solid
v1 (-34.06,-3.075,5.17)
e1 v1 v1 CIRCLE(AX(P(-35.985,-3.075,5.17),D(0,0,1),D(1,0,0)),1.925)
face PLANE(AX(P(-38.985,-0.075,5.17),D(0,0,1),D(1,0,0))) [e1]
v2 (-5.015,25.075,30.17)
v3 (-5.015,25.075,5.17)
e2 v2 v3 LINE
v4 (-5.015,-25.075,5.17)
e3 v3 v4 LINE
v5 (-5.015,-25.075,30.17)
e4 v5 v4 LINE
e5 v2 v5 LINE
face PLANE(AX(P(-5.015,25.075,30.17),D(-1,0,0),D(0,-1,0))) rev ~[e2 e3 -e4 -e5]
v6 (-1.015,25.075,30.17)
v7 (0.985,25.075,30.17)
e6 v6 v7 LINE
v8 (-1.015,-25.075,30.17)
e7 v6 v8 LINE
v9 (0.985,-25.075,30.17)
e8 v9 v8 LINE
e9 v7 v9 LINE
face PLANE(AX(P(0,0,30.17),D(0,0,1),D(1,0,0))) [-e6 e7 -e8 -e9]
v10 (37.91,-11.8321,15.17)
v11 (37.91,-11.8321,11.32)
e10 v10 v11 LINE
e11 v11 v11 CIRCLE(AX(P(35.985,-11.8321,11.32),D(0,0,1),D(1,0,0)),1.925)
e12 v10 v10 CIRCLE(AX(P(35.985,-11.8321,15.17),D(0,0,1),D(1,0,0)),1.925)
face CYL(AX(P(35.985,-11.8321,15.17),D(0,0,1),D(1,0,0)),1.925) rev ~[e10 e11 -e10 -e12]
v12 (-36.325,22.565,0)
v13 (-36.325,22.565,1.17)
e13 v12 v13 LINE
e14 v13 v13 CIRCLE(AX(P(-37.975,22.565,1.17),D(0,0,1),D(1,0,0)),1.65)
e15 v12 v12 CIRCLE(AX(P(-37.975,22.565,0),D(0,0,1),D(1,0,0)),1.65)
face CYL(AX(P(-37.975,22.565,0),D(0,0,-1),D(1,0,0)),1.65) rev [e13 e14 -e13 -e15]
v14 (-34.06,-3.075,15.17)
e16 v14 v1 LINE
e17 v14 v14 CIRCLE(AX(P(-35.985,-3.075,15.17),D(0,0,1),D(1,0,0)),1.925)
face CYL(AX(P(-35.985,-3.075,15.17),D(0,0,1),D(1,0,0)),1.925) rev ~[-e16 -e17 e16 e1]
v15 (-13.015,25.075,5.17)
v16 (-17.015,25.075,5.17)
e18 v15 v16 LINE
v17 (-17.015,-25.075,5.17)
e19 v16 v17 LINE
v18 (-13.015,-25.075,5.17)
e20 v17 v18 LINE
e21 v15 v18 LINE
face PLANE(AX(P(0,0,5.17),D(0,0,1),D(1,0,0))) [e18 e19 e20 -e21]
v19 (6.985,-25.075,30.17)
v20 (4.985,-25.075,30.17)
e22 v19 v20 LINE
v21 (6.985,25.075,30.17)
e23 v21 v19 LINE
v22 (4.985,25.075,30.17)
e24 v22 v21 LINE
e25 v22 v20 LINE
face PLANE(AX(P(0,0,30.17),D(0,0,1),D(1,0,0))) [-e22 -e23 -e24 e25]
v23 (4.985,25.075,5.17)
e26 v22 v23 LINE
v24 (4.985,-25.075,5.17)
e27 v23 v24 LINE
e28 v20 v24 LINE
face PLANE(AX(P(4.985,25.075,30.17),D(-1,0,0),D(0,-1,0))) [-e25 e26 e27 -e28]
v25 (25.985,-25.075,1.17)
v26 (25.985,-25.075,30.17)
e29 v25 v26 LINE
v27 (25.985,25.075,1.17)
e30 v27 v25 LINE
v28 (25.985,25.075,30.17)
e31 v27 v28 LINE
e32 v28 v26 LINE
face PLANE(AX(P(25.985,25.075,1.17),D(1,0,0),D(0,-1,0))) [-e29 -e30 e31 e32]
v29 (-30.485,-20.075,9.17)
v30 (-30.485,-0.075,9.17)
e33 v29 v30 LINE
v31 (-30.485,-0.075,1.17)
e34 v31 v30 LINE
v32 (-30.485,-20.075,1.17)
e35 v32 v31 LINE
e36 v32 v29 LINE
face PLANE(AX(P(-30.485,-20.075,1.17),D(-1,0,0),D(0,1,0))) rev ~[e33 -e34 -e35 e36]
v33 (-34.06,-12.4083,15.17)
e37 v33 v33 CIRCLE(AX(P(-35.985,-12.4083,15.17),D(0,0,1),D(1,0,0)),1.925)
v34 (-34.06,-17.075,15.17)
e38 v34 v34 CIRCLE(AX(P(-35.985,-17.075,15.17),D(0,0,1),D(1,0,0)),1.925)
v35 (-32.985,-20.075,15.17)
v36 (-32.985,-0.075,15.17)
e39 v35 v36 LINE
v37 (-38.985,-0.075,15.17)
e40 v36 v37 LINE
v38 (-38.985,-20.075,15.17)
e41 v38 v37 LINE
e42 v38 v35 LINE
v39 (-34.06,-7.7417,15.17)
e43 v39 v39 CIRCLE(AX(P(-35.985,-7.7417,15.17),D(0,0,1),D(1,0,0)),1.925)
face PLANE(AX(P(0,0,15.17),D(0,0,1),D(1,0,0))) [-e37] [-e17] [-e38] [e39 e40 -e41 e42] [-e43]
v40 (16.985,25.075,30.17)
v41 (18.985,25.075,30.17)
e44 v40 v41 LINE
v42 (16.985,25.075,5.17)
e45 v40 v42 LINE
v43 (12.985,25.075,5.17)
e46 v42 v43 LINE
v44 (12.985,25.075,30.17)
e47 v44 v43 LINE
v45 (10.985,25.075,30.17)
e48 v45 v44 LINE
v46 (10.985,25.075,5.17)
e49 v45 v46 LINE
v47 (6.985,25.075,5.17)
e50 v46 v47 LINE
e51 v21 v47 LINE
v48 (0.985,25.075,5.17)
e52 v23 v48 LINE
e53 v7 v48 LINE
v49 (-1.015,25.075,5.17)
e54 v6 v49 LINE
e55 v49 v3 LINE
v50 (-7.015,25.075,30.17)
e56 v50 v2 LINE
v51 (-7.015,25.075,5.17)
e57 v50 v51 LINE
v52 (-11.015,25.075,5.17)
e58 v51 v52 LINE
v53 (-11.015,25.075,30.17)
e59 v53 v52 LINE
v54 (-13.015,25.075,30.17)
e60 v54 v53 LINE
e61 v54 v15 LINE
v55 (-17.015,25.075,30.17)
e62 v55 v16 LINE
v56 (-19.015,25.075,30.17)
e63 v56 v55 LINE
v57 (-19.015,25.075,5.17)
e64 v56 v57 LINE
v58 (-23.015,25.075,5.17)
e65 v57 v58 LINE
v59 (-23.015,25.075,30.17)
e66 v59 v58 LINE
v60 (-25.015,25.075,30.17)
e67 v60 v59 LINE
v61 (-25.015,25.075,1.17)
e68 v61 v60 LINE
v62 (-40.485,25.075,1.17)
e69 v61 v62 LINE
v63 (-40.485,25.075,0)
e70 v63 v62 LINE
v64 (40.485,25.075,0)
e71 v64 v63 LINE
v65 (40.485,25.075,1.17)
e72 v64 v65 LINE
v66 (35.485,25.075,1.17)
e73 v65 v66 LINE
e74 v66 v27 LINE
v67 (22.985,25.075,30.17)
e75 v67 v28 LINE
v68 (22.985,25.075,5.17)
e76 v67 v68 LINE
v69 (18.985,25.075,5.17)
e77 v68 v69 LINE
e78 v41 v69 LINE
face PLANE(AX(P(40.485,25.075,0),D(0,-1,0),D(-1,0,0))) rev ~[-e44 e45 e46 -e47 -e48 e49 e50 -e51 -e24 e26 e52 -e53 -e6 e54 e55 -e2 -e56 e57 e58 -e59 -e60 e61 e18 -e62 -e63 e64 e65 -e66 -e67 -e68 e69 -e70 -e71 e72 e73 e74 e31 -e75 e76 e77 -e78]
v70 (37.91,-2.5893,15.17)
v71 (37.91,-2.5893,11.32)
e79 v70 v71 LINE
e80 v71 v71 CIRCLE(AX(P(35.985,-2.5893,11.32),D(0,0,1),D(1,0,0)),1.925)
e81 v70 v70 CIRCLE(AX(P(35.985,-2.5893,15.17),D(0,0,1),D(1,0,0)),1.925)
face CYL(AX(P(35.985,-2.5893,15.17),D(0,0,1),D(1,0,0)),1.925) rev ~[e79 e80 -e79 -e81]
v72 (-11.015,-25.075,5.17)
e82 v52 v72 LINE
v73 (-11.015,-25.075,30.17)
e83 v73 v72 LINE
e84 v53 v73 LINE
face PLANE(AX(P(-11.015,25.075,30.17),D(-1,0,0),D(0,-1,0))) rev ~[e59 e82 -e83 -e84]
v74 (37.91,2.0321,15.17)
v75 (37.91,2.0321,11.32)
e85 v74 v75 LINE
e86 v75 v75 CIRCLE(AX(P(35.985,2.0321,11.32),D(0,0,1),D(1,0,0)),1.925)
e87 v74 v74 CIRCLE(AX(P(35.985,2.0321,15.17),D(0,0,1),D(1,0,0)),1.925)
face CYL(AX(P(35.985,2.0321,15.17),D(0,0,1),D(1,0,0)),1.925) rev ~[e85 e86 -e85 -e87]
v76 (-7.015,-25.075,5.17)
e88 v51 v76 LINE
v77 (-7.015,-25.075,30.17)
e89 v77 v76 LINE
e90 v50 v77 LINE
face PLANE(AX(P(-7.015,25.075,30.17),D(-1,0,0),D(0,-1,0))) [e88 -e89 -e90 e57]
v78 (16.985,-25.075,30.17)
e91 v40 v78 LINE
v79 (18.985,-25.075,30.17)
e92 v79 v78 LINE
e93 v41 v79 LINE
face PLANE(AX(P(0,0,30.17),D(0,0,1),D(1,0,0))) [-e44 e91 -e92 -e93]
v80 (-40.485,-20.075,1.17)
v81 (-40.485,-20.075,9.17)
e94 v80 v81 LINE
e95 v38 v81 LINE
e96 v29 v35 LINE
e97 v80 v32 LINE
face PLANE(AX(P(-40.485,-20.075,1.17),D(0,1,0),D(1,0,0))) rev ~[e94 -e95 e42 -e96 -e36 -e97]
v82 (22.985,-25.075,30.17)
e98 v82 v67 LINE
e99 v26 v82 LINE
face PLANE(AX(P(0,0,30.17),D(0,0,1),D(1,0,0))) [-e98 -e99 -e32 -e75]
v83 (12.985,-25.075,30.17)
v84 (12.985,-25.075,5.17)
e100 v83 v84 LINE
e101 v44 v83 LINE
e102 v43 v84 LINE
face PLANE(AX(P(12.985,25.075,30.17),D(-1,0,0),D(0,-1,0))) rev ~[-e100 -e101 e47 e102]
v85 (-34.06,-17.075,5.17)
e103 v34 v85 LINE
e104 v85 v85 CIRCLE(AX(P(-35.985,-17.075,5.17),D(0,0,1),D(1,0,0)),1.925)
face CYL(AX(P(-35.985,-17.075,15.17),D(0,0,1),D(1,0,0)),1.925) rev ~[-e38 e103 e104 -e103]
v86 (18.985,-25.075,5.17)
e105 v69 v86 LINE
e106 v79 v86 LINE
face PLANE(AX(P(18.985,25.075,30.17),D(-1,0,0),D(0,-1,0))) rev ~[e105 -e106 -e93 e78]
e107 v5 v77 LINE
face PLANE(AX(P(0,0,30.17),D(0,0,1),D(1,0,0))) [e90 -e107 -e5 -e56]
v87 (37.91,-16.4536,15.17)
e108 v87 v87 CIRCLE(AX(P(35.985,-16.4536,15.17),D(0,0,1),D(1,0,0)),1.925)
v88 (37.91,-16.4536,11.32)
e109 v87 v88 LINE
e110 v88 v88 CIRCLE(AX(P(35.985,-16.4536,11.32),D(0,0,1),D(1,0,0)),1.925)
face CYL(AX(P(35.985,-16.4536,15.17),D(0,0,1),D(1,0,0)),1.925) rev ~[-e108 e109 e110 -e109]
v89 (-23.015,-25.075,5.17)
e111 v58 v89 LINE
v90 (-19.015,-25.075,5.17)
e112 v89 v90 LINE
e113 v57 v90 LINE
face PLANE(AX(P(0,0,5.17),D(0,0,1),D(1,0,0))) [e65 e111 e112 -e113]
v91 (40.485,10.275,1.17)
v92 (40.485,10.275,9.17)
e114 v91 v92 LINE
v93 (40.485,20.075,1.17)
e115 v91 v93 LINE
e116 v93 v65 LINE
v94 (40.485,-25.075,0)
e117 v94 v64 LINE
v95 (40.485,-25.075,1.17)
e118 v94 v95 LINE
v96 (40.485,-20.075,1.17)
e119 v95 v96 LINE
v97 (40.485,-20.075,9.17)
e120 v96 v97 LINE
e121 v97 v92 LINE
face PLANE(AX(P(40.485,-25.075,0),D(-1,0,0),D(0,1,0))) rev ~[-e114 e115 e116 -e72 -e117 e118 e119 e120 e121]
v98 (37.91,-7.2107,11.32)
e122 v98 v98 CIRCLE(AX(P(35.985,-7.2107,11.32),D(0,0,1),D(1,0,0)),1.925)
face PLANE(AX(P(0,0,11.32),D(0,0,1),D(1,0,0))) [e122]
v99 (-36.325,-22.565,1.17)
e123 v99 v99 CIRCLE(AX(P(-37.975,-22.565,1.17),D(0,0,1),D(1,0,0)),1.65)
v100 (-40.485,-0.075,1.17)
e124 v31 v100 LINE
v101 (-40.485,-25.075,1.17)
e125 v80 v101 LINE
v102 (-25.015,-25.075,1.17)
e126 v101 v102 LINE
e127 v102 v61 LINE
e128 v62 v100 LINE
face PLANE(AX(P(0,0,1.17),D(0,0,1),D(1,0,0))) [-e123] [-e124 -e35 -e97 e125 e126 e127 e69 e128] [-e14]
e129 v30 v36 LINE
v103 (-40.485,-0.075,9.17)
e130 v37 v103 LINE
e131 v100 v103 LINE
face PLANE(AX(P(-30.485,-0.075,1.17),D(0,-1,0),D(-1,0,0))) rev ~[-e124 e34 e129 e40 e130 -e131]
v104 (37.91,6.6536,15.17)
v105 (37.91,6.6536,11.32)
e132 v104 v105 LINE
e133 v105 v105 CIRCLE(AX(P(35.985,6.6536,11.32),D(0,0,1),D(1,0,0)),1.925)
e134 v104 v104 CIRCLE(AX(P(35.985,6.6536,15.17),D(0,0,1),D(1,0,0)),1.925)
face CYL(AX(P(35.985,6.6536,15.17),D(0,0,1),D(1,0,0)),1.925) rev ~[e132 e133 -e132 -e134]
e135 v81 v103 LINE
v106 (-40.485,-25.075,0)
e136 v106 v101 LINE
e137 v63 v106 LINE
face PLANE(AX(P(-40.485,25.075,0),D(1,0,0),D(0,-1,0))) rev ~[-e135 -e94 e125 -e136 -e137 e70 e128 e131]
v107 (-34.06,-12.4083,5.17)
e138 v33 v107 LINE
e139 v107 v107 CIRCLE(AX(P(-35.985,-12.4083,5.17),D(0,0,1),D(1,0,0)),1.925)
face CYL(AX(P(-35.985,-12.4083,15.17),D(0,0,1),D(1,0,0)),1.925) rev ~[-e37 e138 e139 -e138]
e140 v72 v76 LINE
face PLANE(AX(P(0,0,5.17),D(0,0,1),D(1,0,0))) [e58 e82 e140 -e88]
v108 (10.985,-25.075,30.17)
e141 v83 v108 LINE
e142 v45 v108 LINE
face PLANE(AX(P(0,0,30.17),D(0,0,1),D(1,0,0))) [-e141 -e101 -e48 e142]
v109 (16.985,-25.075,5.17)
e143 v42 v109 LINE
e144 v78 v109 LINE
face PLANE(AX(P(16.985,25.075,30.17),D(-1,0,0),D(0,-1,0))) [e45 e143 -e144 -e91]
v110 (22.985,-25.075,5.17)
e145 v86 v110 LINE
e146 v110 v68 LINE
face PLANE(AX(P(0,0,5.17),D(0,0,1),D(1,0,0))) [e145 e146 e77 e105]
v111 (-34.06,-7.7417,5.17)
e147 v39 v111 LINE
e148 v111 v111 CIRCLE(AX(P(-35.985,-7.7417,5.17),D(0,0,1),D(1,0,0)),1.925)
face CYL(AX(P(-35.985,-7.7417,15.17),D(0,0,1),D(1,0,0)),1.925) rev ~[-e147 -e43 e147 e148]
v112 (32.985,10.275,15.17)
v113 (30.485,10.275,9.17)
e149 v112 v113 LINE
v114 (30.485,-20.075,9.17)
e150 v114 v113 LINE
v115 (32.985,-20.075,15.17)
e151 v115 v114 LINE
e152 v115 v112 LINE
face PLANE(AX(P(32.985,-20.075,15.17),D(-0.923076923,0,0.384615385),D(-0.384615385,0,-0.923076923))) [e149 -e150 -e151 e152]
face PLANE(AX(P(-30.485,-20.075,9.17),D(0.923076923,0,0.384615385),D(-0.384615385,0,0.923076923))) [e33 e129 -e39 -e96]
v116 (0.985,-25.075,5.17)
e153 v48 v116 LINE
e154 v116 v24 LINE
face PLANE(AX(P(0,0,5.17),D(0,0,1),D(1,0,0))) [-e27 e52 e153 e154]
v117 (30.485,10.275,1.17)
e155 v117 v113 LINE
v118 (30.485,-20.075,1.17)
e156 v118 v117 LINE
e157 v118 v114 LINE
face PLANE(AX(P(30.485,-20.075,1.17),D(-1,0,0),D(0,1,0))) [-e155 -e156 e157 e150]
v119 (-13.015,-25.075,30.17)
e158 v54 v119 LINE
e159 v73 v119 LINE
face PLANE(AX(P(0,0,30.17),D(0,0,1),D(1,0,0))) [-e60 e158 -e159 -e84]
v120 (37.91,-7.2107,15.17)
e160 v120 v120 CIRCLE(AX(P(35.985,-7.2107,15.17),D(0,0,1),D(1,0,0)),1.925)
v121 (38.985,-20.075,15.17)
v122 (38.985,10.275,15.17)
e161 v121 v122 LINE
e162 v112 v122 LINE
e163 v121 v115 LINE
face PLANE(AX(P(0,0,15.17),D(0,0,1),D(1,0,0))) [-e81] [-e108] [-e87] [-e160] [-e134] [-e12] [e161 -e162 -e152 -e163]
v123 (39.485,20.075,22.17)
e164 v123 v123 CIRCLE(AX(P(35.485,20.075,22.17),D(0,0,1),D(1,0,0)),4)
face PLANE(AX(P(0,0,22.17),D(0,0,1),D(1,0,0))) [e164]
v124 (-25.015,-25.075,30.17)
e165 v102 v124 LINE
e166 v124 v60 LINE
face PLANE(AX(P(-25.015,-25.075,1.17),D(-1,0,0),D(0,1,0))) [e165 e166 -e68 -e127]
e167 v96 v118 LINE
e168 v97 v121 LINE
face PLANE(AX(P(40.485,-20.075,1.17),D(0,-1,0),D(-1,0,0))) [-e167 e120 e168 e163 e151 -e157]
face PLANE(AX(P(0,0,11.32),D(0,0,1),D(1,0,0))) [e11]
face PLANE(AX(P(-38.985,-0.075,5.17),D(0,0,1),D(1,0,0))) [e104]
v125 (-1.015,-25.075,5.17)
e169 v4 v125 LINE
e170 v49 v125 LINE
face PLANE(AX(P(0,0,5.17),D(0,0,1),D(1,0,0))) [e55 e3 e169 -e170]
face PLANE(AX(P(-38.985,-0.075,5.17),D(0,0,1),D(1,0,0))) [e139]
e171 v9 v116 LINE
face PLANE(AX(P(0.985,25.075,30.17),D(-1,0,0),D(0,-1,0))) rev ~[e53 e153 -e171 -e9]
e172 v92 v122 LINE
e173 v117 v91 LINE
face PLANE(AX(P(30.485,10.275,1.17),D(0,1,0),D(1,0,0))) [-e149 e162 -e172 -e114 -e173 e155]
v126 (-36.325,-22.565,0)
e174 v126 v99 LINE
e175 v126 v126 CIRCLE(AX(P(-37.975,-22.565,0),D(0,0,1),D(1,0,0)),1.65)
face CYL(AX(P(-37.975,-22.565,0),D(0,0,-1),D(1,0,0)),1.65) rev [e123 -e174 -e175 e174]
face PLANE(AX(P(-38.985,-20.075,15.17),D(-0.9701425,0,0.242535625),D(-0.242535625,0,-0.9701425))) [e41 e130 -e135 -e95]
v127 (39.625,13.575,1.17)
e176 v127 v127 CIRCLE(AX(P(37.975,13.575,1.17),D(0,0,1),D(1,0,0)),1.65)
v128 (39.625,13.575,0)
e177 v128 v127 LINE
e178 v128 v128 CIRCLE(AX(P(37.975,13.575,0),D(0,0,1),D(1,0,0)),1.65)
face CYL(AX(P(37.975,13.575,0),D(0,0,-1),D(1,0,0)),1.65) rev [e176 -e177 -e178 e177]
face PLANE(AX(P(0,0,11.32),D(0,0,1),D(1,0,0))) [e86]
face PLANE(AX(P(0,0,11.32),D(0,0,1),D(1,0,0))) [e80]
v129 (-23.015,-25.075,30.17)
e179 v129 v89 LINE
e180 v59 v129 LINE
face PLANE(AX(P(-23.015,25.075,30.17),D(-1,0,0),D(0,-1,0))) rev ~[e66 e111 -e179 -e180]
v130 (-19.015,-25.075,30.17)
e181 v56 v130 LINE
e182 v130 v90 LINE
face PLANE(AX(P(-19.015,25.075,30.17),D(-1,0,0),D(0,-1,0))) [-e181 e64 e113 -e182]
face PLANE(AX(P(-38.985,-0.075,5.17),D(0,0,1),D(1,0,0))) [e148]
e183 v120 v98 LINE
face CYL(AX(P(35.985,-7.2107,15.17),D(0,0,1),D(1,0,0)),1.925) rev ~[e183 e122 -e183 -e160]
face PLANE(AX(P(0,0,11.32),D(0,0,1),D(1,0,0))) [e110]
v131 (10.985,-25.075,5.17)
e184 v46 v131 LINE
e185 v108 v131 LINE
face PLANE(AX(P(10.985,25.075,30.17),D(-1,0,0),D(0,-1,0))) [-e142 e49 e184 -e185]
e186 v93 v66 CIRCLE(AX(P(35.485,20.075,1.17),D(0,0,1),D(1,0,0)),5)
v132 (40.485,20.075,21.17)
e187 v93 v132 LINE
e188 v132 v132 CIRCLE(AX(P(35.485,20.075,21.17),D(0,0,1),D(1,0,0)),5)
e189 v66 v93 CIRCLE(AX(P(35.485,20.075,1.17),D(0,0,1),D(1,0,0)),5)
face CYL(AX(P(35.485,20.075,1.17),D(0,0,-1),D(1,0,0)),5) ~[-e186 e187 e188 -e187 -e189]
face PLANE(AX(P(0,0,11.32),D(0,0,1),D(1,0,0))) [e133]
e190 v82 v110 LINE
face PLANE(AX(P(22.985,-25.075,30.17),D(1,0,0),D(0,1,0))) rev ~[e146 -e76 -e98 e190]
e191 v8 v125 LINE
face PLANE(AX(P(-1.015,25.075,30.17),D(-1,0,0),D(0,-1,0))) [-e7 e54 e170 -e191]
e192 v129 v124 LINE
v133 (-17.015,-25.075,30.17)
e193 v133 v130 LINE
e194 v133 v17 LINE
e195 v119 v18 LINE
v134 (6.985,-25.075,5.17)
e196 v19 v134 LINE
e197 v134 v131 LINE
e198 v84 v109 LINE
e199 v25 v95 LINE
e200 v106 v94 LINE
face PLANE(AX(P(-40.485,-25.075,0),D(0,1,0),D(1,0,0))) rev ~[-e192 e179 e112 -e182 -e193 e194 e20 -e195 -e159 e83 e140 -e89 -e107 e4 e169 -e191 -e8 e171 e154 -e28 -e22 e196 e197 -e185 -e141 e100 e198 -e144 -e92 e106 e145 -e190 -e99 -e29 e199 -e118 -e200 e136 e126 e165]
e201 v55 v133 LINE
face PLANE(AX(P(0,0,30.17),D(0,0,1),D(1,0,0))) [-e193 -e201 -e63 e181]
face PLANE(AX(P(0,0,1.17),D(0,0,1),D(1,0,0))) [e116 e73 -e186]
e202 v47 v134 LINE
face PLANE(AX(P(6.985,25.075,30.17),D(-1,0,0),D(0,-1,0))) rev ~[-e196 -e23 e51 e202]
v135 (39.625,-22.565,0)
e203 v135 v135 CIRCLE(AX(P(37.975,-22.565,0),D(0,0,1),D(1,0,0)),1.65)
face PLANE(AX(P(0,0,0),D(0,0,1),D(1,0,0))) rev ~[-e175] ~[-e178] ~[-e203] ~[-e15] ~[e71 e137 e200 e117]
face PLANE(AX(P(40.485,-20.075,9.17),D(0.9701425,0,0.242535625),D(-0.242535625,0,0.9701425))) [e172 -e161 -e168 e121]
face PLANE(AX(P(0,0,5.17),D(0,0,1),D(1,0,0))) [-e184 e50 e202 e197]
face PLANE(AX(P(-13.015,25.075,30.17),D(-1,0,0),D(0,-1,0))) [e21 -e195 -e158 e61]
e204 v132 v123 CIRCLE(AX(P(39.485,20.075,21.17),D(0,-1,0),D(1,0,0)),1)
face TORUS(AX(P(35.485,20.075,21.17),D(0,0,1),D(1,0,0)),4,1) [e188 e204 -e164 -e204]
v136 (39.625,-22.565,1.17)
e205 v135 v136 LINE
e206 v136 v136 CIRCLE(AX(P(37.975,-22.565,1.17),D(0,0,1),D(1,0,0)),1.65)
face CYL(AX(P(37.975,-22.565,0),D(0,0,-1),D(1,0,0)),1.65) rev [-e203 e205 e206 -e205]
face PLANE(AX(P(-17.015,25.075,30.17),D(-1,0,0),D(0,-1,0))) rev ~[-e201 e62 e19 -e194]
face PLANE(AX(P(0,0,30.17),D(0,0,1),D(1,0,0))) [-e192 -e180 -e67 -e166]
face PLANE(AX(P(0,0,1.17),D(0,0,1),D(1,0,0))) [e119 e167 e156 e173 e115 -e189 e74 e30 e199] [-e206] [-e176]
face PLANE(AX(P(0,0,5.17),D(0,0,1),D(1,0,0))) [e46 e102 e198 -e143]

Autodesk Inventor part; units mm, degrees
ref_plane "YZ Plane" through (0, 0, 0) normal (1, 0, 0) x (0, 1, 0)
ref_plane "XZ Plane" through (0, 0, 0) normal (0, 1, 0) x (-1, 0, 0)
ref_plane "XY Plane" through (0, 0, 0) normal (0, 0, 1) x (1, 0, 0)
sketch "Sketch1" plane through (0, 0, 0) normal (0, 0, 1) x (1, 0, 0)
  line L0 (-40.485, -25.075) -> (40.485, -25.075)
  line L1 (40.485, -25.075) -> (40.485, 25.075)
  line L2 (40.485, 25.075) -> (-40.485, 25.075)
  line L3 (-40.485, 25.075) -> (-40.485, -25.075)
  line L4 (-40.485, -25.075) -> (40.485, 25.075) construction
  line L5 (40.485, -25.075) -> (-40.485, 25.075) construction
  circle A0 centre (-37.975, 22.565) radius 1.65
  line L6 (-39.625, 24.215) -> (-36.325, 24.215) construction
  line L7 (-36.325, 24.215) -> (-36.325, 20.915) construction
  line L8 (-36.325, 20.915) -> (-39.625, 20.915) construction
  line L9 (-39.625, 20.915) -> (-39.625, 24.215) construction
  line L10 (-39.625, 24.215) -> (-36.325, 20.915) construction
  line L11 (-36.325, 24.215) -> (-39.625, 20.915) construction
  line L12 (-40.485, 0) -> (40.485, 0) construction
  line L13 (0, 25.075) -> (0, -25.075) construction
  circle A1 centre (-37.975, -22.565) radius 1.65
  line L14 (0, -25.075) -> (0, 25.075) construction
  circle A2 centre (37.975, 22.565) radius 1.65 construction
  circle A3 centre (37.975, -22.565) radius 1.65
  line L15 (37.975, 25.075) -> (37.975, 13.575) construction
  circle A4 centre (37.975, 13.575) radius 1.65
  point P0 (0, 0)
  dimension "d0" = 80.97
  dimension "d1" = 50.15
  dimension "d2" = 3.3
  dimension "d3" = 0.86
  dimension "d4" = 0.86
  dimension "d10" = 11.5
extrude "Extrusion1" add sketch "Sketch1" along normal blind 1.17
sketch "Sketch2" plane through (0, 0, 1.17) normal (0, 0, 1) x (1, 0, 0)
  line L0 (40.485, -25.075) -> (40.485, 25.075) projected
  line L1 (40.485, -20.075) -> (30.485, -20.075)
  line L2 (30.485, -20.075) -> (30.485, 10.275)
  line L3 (30.485, 10.275) -> (40.485, 10.275)
  line L4 (40.485, 10.275) -> (40.485, -20.075)
  line L5 (-40.485, -25.075) -> (40.485, -25.075) projected
  point P0 (0, 0)
  dimension "d7" = 5
  dimension "d8" = 30.35
  dimension "d9" = 10
extrude "Extrusion2" add sketch "Sketch2" along normal blind 14
sketch "Sketch3" plane through (0, 0, 1.17) normal (0, 0, 1) x (1, 0, 0)
  line L0 (40.485, 10.275) -> (40.485, 25.075) construction
  line L1 (40.485, 25.075) -> (-40.485, 25.075) construction
  circle A0 centre (35.485, 20.075) radius 5
  point P0 (0, 0)
  dimension "d13" = 10
extrude "Extrusion3" add sketch "Sketch3" along normal blind 21
fillet "Fillet1" radius 1 1 edges at (30.485, 20.075, 22.17)
sketch "Sketch4" plane through (30.485, -20.075, 1.17) normal (0, -1, 0) x (1, 0, 0)
  line L0 (0, 14) -> (10, 14) construction
  line L1 (0, 0) -> (0, 14) projected
  line L2 (10, 0) -> (10, 14) projected
  line L3 (10, 14) -> (0, 14) projected
  line L4 (2.5, 14) -> (8.5, 14)
  line L5 (10, 8) -> (8.5, 14)
  line L6 (2.5, 14) -> (0, 8)
  line L7 (10, 8) -> (0, 8) construction
  point P0 (-30.485, -1.17)
  dimension "d17" = 6
  dimension "d18" = 6
  dimension "d19" = 1.5
extrude "Extrusion4" cut sketch "Sketch4" against normal up to surface (30.35 mm away)
sketch "Sketch5" plane through (0, 0, 15.17) normal (0, 0, 1) x (1, 0, 0)
  line L0 (38.985, 10.275) -> (32.985, 10.275) construction
  line L1 (35.985, 10.275) -> (35.985, -20.075) construction
  line L2 (32.985, -20.075) -> (38.985, -20.075) construction
  line L3 (35.985, -20.075) -> (35.985, 10.275) construction
  circle A0 centre (35.985, 6.6536) radius 1.925
  circle A1 centre (35.985, 2.0321) radius 1.925
  circle A2 centre (35.985, -2.5893) radius 1.925
  circle A3 centre (35.985, -7.2107) radius 1.925
  circle A4 centre (35.985, -11.8321) radius 1.925
  circle A5 centre (35.985, -16.4536) radius 1.925
  point P0 (0, 0)
  dimension "d22" = 3.85
  dimension "d23" = 4.6214
  dimension "d24" = 4.6214
  dimension "d25" = 4.6214
  dimension "d26" = 4.6214
  dimension "d27" = 4.6214
  dimension "d28" = 3.6214
  dimension "d29" = 3.6214
extrude "Extrusion5" cut sketch "Sketch5" against normal blind 3.85
sketch "Sketch6" plane through (0, 0, 1.17) normal (0, 0, 1) x (1, 0, 0)
  line L0 (-25.015, 25.075) -> (25.985, 25.075)
  line L1 (25.985, 25.075) -> (25.985, -25.075)
  line L2 (25.985, -25.075) -> (-25.015, -25.075)
  line L3 (-25.015, -25.075) -> (-25.015, 25.075)
  line L4 (40.485, -25.075) -> (40.485, -20.075) projected
  line L5 (35.485, 25.075) -> (-40.485, 25.075) projected
  line L6 (-40.485, -25.075) -> (40.485, -25.075) projected
  point P0 (0, 0)
  dimension "d32" = 14.5
  dimension "d33" = 51
extrude "Extrusion6" add sketch "Sketch6" along normal blind 29
sketch "Sketch7" plane through (0, 0, 30.17) normal (0, 0, 1) x (1, 0, 0)
  line L0 (25.985, 25.075) -> (-25.015, 25.075) projected
  line L1 (-25.015, -25.075) -> (25.985, -25.075) projected
  line L2 (22.985, 25.075) -> (18.985, 25.075)
  line L3 (18.985, 25.075) -> (18.985, -25.075)
  line L4 (18.985, -25.075) -> (22.985, -25.075)
  line L5 (22.985, -25.075) -> (22.985, 25.075)
  line L6 (25.985, -25.075) -> (25.985, 25.075) projected
  line L7 (16.985, 25.075) -> (16.985, -25.075)
  line L8 (12.985, 25.075) -> (12.985, -25.075)
  line L9 (10.985, 25.075) -> (10.985, -25.075)
  line L10 (6.985, 25.075) -> (6.985, -25.075)
  line L11 (4.985, 25.075) -> (4.985, -25.075)
  line L12 (0.985, 25.075) -> (0.985, -25.075)
  line L13 (-1.015, 25.075) -> (-1.015, -25.075)
  line L14 (-5.015, 25.075) -> (-5.015, -25.075)
  line L15 (-7.015, 25.075) -> (-7.015, -25.075)
  line L16 (-11.015, 25.075) -> (-11.015, -25.075)
  line L17 (-13.015, 25.075) -> (-13.015, -25.075)
  line L18 (-17.015, 25.075) -> (-17.015, -25.075)
  line L19 (-19.015, 25.075) -> (-19.015, -25.075)
  line L20 (-23.015, 25.075) -> (-23.015, -25.075)
  point P0 (0, 0)
  dimension "d36" = 3
  dimension "d37" = 4
  dimension "d38" = 2
  dimension "d39" = 4
  dimension "d40" = 2
  dimension "d41" = 4
  dimension "d42" = 2
  dimension "d43" = 4
  dimension "d44" = 2
  dimension "d45" = 4
  dimension "d46" = 2
  dimension "d47" = 4
  dimension "d48" = 2
  dimension "d49" = 4
  dimension "d50" = 2
  dimension "d51" = 4
extrude "Extrusion7" cut sketch "Sketch7" against normal blind 25 contours L5 L1 L3 L0 | L7 L1 L8 L0 | L9 L1 L10 L0 | L11 L1 L12 L0 | L13 L1 L14 L0 | L15 L1 L16 L0 | L17 L1 L18 L0 | L19 L1 L20 L0
sketch "Sketch8" plane through (0, 0, 1.17) normal (0, 0, 1) x (1, 0, 0)
  line L0 (32.985, -20.075) -> (38.985, -20.075) projected
  line L1 (30.485, -20.075) -> (-40.485, -20.075) construction
  line L2 (-40.485, 25.075) -> (-40.485, -25.075) projected
  line L3 (-40.485, -20.075) -> (-30.485, -20.075)
  line L4 (-30.485, -20.075) -> (-30.485, -0.075)
  line L5 (-30.485, -0.075) -> (-40.485, -0.075)
  line L6 (-40.485, -0.075) -> (-40.485, -20.075)
  line L7 (40.485, 10.275) -> (40.485, -20.075) projected
  line L8 (30.485, -20.075) -> (30.485, 10.275) projected
  point P0 (0, 0)
  point P1 (-30.485, -10.075)
  dimension "d54" = 20
  dimension "d55" = 10
  dimension "d56" = 10
extrude "Extrusion8" add sketch "Sketch8" along normal up to surface (14 mm away)
sketch "Sketch10" plane through (-40.485, -20.075, 1.17) normal (0, -1, 0) x (1, 0, 0)
  line L0 (10, 14) -> (0, 14) projected
  line L1 (2.6888, 14) -> (7.5, 14)
  line L2 (10, 0) -> (10, 14) projected
  line L3 (10, 8) -> (7.5, 14)
  line L4 (0, 0) -> (0, 14) projected
  line L5 (1.5, 14) -> (0, 8)
  line L6 (73.47, 14) -> (79.47, 14) projected
  line L7 (80.97, 8) -> (79.47, 14) projected
  line L8 (73.47, 14) -> (70.97, 8) projected
  point P0 (40.485, -1.17)
  point P1 (76.47, 14)
  dimension "d59" = 1.5
  dimension "d60" = 1.5
  dimension "d61" = 2.5
  dimension "d62" = 2.5
  dimension "d63" = 6
  dimension "d64" = 6
  dimension "d65" = 6
extrude "Extrusion9" cut sketch "Sketch10" against normal up to surface (20 mm away)
sketch "Sketch11" plane through (-38.985, -0.075, 15.17) normal (0, 0, 1) x (1, 0, 0)
  line L0 (0, 0) -> (6, 0) construction
  line L1 (6, -20) -> (0, -20) construction
  line L2 (3, 0) -> (3, -20) construction
  circle A0 centre (3, -3) radius 1.925
  circle A1 centre (3, -7.6667) radius 1.925
  circle A2 centre (3, -12.3333) radius 1.925
  circle A3 centre (3, -17) radius 1.925
  circle A4 centre (74.97, 6.7286) radius 1.925 projected
  point P0 (38.985, 0.075)
  dimension "d68" = 3
  dimension "d69" = 3
  dimension "d70" = 4.6667
  dimension "d71" = 4.6667
  dimension "d73" = 4.6667
extrude "Extrusion10" cut sketch "Sketch11" against normal blind 10 contours A0 | A1 | A2 | A3
equation "\"d24\" = d23"
equation "\"d25\" = d23"
equation "\"d26\" = d23"
equation "\"d27\" = d23"
equation "\"d30\" = d22"
equation "\"d39\" = d37"
equation "\"d40\" = d38"
equation "\"d41\" = d37"
equation "\"d42\" = d38"
equation "\"d43\" = d37"
equation "\"d44\" = d38"
equation "\"d45\" = d37"
equation "\"d46\" = d38"
equation "\"d47\" = d37"
equation "\"d48\" = d38"
equation "\"d49\" = d37"
equation "\"d50\" = d38"
equation "\"d51\" = d37"
equation "\"d56\" = d55"
equation "\"d60\" = d59"
equation "\"d62\" = d61"
equation "\"d64\" = d63"
equation "\"d65\" = d63"
equation "\"d71\" = d70"
equation "\"d73\" = d70"
properties part number "HiLetgoTB6600HG"
